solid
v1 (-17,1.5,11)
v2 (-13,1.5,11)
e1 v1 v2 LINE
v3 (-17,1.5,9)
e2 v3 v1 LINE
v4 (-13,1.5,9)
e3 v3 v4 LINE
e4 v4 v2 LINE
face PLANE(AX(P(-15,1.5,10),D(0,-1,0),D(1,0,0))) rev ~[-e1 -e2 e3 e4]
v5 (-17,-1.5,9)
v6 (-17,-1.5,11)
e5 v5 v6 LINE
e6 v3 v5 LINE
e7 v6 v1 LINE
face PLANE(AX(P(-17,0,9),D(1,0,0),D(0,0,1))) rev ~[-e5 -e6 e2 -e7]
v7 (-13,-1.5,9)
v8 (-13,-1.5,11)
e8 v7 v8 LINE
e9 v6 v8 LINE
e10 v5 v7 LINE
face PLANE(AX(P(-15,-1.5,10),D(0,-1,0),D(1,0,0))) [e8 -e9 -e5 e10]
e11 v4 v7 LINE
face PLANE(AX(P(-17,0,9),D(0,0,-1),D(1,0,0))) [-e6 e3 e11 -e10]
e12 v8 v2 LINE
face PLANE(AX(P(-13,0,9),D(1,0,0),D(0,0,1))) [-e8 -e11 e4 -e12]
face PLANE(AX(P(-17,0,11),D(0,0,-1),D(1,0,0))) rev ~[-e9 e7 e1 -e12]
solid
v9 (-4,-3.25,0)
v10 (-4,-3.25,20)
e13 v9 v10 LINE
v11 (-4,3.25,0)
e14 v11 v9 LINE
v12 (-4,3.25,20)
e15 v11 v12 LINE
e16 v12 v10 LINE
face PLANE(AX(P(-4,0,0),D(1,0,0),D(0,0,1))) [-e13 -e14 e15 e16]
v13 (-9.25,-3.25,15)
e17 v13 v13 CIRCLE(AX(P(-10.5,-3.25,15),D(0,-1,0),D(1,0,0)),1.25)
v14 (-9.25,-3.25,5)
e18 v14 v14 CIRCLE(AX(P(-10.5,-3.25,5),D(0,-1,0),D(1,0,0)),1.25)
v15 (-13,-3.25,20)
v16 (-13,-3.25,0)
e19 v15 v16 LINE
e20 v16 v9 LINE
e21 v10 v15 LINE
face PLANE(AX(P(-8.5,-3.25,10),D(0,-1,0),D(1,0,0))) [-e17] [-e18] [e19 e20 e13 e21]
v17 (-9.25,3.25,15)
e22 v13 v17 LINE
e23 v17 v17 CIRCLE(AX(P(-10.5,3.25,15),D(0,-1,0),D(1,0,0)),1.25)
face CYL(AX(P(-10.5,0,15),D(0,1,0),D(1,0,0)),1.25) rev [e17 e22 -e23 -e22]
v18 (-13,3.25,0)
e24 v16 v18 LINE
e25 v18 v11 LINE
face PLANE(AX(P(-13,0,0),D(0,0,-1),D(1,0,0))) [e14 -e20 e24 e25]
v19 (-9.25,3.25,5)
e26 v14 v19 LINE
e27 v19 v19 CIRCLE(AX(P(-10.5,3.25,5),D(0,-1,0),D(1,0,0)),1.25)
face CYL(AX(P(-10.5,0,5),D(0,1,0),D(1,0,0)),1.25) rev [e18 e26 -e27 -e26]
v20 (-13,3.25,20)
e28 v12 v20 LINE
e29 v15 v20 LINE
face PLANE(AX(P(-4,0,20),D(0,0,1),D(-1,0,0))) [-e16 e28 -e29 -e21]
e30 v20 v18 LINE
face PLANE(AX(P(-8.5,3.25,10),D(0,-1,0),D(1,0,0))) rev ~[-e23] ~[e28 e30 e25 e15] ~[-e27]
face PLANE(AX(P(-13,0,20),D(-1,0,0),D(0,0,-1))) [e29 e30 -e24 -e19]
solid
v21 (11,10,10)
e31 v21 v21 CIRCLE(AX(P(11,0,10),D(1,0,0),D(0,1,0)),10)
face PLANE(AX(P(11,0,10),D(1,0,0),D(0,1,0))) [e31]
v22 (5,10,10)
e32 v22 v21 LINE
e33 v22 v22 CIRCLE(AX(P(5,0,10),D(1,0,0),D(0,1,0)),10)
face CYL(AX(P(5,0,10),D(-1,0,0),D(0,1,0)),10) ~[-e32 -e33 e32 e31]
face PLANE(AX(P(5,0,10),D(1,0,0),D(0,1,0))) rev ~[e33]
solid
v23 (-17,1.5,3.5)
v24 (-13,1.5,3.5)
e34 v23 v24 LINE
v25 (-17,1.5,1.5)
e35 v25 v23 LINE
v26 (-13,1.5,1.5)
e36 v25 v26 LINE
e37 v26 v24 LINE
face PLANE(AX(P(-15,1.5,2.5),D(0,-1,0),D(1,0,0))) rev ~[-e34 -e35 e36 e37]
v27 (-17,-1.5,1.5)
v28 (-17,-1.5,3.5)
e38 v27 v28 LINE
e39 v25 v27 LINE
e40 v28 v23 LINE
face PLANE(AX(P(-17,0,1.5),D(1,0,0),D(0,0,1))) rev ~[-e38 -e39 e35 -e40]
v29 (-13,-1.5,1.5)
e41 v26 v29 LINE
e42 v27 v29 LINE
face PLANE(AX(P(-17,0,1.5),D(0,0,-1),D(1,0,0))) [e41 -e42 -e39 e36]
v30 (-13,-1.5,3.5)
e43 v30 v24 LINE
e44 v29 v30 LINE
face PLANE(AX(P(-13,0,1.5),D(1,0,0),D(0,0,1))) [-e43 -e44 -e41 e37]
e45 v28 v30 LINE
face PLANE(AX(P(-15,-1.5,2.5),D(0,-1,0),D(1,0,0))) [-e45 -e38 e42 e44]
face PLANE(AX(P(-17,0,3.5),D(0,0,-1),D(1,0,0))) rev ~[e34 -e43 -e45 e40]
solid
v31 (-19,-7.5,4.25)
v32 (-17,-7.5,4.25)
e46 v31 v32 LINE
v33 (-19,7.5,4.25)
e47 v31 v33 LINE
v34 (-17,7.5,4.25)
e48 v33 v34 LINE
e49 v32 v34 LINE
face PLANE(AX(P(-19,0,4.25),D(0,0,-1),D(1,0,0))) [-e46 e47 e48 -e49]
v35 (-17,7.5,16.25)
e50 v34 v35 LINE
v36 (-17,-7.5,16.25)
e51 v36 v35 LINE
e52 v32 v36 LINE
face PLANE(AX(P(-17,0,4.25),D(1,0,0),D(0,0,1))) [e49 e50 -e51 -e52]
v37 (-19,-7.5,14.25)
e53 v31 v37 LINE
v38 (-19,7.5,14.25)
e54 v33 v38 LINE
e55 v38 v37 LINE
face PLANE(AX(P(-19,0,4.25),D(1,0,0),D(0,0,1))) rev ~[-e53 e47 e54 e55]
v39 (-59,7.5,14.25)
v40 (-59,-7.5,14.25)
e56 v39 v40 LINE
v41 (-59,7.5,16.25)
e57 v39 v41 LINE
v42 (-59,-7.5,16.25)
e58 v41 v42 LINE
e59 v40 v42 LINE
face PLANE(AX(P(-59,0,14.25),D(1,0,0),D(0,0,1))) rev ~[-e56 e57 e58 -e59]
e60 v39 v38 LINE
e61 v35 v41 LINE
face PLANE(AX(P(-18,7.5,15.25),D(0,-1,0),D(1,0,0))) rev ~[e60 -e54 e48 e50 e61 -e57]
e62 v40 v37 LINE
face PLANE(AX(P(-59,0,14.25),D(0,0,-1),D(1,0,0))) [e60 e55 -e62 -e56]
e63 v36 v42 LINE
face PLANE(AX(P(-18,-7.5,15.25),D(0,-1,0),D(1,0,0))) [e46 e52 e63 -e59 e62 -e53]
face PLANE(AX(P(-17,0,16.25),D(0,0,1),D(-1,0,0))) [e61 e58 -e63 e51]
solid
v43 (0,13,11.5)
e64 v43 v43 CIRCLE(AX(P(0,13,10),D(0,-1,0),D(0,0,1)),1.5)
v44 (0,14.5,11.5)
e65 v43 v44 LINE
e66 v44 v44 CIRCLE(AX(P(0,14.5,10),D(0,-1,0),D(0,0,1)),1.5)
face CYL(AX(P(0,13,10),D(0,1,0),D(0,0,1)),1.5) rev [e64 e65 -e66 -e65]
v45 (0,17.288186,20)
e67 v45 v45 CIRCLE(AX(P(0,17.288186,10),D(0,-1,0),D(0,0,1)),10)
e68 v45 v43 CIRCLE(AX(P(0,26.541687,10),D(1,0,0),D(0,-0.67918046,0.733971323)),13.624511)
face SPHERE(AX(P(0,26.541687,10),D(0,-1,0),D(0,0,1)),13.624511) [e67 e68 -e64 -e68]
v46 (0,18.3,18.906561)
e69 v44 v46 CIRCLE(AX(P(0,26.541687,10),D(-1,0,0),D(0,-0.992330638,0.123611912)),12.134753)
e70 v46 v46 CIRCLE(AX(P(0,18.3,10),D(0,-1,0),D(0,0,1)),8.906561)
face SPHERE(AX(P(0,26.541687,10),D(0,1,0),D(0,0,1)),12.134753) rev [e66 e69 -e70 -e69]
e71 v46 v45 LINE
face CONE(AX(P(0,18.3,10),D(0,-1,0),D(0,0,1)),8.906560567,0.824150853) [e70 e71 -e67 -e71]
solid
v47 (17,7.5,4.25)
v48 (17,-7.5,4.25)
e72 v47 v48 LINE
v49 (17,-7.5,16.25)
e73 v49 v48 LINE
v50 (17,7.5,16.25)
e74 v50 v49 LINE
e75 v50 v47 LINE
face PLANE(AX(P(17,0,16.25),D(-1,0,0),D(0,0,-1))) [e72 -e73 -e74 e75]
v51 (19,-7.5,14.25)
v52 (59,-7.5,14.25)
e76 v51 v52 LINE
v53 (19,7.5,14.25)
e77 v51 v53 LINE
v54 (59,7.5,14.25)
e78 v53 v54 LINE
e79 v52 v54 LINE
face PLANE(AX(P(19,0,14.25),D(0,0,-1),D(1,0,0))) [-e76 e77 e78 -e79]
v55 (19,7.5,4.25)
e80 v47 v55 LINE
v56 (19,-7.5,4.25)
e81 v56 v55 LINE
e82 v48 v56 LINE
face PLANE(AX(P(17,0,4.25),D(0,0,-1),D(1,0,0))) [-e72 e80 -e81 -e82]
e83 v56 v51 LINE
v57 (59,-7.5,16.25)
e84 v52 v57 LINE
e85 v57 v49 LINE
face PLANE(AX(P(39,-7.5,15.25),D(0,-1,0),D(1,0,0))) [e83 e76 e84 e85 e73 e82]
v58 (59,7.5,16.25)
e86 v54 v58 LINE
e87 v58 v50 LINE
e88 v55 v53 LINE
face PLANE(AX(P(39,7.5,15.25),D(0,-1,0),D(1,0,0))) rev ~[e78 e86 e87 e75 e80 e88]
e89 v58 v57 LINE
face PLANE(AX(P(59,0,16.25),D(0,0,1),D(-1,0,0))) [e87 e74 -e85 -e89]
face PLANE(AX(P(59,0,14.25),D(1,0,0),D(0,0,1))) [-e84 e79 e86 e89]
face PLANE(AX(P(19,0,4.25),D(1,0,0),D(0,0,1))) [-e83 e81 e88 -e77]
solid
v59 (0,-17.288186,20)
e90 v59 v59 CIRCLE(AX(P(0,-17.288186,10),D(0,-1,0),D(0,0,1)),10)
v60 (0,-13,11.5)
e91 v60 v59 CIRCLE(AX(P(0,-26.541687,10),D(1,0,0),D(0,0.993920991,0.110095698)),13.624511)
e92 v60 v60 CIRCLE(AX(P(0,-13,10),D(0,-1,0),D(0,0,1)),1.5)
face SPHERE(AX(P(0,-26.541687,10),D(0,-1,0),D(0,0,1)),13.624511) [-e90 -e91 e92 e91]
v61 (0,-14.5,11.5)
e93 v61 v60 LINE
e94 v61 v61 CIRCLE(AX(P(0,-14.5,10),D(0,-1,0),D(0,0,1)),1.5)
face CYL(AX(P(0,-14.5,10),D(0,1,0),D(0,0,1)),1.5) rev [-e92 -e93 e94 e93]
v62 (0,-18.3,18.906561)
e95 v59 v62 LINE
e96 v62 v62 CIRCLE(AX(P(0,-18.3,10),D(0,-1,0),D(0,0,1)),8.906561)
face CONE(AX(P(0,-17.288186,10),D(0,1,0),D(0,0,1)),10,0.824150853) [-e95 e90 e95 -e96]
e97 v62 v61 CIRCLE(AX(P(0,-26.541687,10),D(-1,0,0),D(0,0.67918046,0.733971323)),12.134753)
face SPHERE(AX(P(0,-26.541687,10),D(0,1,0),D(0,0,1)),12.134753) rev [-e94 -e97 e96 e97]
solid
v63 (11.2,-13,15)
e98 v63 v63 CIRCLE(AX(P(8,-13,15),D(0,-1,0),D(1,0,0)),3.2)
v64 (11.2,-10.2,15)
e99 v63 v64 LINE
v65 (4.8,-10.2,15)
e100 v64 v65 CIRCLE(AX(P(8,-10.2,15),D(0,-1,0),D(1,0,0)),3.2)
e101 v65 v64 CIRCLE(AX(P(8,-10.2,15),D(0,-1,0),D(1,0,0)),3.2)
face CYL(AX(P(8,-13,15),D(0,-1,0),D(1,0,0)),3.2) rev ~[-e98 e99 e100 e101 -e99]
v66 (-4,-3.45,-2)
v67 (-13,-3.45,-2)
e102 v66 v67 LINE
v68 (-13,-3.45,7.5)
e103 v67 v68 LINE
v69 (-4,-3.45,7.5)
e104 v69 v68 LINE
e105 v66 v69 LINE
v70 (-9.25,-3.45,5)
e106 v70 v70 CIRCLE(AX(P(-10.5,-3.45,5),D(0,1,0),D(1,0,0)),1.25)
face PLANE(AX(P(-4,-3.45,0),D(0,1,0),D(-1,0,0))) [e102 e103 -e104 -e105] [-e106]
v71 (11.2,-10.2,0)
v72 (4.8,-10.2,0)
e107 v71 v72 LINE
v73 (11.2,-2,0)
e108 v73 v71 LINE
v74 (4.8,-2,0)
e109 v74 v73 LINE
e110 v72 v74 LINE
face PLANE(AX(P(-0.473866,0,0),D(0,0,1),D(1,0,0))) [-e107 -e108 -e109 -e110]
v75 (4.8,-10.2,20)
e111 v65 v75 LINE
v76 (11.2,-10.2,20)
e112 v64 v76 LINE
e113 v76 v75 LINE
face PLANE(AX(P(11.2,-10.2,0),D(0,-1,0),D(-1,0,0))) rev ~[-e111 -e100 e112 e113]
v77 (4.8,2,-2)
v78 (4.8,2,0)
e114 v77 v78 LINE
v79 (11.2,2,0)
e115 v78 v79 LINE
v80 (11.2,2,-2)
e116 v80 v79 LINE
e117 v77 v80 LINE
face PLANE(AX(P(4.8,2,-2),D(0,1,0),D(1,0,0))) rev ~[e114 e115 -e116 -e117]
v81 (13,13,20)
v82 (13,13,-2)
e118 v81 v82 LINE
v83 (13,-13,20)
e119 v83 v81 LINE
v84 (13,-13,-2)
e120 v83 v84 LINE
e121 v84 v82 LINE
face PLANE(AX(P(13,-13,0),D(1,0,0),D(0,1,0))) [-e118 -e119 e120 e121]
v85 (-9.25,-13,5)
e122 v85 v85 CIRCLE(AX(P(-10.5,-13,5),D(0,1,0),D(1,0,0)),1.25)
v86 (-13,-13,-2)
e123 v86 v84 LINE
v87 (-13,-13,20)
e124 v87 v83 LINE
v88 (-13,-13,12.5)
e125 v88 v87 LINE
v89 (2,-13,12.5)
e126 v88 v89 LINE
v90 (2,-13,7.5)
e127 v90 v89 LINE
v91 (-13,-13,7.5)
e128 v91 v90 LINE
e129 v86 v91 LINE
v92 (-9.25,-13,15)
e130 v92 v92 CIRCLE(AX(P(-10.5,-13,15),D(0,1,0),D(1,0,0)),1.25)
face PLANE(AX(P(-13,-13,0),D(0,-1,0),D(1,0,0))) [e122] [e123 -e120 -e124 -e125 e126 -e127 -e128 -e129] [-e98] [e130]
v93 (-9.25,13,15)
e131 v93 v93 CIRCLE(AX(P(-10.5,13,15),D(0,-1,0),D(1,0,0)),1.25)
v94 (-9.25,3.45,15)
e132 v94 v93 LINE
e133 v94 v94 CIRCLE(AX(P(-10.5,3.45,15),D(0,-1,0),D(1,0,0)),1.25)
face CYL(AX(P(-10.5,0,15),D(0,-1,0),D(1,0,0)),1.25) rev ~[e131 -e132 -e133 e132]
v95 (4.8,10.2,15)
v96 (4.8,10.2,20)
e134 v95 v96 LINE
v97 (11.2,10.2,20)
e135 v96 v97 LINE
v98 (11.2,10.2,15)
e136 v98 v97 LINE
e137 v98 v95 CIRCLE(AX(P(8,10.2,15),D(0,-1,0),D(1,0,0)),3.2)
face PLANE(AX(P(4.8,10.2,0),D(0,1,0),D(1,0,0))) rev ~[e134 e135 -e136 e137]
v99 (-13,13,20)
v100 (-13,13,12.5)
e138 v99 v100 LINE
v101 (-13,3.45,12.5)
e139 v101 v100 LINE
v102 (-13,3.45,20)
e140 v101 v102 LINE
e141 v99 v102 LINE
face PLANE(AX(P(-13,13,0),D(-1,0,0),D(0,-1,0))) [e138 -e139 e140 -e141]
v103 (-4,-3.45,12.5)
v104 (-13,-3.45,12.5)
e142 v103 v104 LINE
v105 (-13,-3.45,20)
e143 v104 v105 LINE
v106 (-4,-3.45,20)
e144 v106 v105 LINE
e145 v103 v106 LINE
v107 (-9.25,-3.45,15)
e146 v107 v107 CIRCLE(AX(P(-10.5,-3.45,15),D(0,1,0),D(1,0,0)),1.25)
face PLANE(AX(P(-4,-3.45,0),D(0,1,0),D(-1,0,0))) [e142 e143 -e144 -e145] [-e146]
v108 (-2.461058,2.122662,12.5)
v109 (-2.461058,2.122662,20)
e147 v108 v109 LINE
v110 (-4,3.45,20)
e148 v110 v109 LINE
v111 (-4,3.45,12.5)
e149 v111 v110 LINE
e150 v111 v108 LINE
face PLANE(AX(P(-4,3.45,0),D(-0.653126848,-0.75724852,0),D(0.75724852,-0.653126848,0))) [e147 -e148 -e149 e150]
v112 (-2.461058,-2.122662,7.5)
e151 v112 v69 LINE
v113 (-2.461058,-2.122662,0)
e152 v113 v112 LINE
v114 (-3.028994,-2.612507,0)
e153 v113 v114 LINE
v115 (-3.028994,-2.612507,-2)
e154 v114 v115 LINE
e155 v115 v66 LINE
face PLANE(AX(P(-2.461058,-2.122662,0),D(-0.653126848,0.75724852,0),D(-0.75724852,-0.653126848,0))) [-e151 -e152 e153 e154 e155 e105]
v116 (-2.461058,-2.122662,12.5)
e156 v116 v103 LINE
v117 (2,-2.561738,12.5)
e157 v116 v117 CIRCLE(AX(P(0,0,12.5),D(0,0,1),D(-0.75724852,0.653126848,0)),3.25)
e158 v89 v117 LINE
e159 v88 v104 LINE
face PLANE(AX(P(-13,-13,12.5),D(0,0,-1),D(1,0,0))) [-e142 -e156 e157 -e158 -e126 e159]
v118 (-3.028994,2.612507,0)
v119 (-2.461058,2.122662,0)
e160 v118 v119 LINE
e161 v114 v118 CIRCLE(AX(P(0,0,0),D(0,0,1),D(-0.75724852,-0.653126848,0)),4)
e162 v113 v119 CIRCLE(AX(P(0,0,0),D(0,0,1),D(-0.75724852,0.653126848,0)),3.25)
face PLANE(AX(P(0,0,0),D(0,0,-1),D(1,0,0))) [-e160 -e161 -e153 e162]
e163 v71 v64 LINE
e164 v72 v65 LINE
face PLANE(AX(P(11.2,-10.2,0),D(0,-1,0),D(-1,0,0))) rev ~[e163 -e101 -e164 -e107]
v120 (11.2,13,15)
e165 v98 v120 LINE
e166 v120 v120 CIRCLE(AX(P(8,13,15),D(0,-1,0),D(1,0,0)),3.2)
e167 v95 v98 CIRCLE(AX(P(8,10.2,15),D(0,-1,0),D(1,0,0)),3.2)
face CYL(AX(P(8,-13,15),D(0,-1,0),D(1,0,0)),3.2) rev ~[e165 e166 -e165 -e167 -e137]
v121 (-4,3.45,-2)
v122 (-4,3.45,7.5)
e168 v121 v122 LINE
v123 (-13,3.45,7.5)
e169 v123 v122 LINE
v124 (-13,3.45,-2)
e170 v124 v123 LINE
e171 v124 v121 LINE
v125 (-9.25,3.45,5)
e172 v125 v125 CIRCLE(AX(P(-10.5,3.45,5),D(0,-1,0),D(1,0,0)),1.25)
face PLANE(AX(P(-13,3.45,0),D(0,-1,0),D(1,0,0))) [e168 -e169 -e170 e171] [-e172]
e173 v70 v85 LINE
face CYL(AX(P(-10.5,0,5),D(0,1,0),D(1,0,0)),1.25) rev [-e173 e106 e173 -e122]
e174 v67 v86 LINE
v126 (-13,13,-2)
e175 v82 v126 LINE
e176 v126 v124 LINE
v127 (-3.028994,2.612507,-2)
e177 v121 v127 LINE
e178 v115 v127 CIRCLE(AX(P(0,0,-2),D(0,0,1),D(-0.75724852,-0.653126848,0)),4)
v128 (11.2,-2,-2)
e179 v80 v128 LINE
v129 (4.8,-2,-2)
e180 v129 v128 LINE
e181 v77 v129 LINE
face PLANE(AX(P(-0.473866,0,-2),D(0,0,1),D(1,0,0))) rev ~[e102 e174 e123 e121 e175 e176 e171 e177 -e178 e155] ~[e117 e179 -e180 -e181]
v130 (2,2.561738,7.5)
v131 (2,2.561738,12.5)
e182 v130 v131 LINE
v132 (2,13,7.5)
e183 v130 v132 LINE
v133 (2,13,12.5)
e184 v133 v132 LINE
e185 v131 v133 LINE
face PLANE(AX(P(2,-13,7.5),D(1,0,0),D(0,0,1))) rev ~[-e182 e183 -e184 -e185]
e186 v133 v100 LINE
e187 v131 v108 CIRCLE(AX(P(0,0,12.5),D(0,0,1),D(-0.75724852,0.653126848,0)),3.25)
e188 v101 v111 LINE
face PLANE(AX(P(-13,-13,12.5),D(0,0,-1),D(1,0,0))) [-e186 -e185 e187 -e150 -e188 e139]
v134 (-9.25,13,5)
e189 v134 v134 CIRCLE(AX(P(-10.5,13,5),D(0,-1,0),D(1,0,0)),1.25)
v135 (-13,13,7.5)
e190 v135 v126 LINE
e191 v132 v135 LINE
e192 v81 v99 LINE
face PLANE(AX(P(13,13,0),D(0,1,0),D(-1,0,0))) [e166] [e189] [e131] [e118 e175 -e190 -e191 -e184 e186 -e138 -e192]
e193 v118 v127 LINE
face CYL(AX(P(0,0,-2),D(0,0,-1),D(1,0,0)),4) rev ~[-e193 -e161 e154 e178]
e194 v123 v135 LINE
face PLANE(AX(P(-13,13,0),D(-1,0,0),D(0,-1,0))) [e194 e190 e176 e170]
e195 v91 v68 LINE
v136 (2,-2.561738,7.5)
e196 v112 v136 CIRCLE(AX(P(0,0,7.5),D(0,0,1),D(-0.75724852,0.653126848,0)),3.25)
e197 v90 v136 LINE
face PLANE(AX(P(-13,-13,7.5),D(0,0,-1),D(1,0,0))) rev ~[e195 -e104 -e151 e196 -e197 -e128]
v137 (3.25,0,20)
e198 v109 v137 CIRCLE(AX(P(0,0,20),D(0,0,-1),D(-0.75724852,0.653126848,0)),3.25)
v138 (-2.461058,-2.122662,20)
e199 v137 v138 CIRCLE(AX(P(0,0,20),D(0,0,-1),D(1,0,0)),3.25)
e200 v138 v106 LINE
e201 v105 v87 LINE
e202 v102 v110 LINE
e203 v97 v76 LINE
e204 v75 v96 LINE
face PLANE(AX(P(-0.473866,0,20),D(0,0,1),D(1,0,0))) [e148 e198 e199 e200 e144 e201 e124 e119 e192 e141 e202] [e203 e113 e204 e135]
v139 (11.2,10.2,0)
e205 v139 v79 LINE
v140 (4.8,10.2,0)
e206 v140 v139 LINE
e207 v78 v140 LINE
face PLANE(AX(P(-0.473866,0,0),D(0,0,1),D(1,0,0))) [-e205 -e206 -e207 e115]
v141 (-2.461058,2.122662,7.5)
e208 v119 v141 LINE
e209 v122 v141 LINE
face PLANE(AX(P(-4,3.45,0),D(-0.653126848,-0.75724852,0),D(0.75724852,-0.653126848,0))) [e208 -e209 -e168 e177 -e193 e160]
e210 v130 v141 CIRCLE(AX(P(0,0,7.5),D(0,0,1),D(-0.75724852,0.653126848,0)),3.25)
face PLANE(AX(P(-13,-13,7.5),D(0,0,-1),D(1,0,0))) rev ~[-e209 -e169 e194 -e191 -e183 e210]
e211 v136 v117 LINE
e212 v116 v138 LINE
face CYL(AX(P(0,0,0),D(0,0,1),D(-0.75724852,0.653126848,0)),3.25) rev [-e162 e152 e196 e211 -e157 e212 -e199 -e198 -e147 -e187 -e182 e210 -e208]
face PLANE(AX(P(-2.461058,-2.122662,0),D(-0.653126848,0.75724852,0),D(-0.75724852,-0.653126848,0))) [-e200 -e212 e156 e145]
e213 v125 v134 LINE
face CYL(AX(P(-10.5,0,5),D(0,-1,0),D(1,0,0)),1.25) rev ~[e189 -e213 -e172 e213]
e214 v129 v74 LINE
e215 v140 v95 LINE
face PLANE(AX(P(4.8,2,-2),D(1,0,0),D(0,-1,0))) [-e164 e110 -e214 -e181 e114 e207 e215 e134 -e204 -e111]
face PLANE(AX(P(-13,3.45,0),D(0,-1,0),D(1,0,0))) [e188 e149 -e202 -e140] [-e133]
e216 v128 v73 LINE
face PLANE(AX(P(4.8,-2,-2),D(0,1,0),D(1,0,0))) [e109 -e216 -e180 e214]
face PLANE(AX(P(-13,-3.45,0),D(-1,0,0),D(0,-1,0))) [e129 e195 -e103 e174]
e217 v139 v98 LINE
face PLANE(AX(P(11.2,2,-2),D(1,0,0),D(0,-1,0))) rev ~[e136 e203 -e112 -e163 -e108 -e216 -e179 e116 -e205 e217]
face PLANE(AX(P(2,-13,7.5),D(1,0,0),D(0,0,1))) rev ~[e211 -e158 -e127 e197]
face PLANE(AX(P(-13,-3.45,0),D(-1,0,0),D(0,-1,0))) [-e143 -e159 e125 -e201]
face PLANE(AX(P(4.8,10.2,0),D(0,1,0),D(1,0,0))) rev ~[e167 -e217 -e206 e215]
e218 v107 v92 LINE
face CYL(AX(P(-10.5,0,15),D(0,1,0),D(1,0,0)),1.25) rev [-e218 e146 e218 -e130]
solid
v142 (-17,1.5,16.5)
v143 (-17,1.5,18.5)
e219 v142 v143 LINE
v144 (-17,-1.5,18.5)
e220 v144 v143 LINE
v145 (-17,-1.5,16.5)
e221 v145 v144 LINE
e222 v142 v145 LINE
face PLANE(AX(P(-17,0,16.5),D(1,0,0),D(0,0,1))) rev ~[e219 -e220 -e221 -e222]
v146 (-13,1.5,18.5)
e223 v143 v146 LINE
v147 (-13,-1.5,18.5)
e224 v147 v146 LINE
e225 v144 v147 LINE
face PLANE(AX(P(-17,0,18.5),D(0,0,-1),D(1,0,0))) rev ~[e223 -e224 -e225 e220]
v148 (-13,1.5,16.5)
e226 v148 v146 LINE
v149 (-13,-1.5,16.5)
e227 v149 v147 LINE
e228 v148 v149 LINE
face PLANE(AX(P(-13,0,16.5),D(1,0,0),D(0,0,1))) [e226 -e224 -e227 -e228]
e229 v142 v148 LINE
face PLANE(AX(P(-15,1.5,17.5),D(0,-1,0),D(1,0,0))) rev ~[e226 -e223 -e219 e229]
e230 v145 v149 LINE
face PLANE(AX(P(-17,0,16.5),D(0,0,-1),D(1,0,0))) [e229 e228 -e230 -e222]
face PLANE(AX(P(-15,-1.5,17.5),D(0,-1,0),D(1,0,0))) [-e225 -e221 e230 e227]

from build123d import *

# Parameters (mm, degrees)
F1_R          = 1.25
F2_DEPTH      = 3.25
F1_W          = 4
F1_H          = 2
F3_DEPTH      = 1.5
F5_START      = 5
F4_R          = 10
F5_DEPTH      = 6
F7_DEPTH      = 20
F8_DEPTH      = 2
F9_DEPTH      = 13.001
F9_DEPTH_BACK = 13.001
F10_W         = 15
F10_H         = 5
F10_R         = 3.2
F11_DEPTH     = 26.001
F12_R         = 4
F13_DEPTH     = 2
F16_W         = 2
F16_H         = 2
F16_W_2       = 40
F16_H_2       = 10
F17_DEPTH     = 7.5
F18_W         = 6.4
F18_H         = 4
F19_DEPTH     = 2


with BuildPart() as f2:
    # F1 (on Front) → F2 (new body, symmetric)
    with BuildSketch(Plane.XZ):
        Polygon((-13, 0), (-4, 0), (-4, 20), (-13, 20), (-13, 18.5), (-13, 16.5), (-13, 11), (-13, 9), (-13, 3.5), (-13, 1.5), align=None)
        with Locations((-10.5, 5)):
            Circle(F1_R, mode=Mode.SUBTRACT)
        with Locations((-10.5, 15)):
            Circle(F1_R, mode=Mode.SUBTRACT)
    extrude(amount=F2_DEPTH, both=True)


with BuildPart() as f3:
    # F1 (on Front) → F3 (new body, symmetric)
    with BuildSketch(Plane.XZ):
        with Locations((-15, 17.5)):
            Rectangle(F1_W, F1_H)
    extrude(amount=F3_DEPTH, both=True)


with BuildPart() as f3b:
    # F1 (on Front) → F3, piece 2 (new body, symmetric)
    with BuildSketch(Plane.XZ):
        with Locations((-15, 10)):
            Rectangle(F1_W, F1_H)
    extrude(amount=F3_DEPTH, both=True)


with BuildPart() as f3c:
    # F1 (on Front) → F3, piece 3 (new body, symmetric)
    with BuildSketch(Plane.XZ):
        with Locations((-15, 2.5)):
            Rectangle(F1_W, F1_H)
    extrude(amount=F3_DEPTH, both=True)


with BuildPart() as f5:
    # F4 (on Right) → F5 (new body)
    with BuildSketch(Plane.YZ.offset(F5_START)):
        with Locations((0, 10)):
            Circle(F4_R)
    extrude(amount=F5_DEPTH)


with BuildPart() as f7:
    # F6 (on Top) → F7 (new body, through all)
    with BuildSketch(Plane.XY):
        with BuildLine():
            Line((-13, 13), (-13, 3.45))
            Line((-13, 3.45), (-4, 3.45))
            Line((-4, 3.45), (-2.4610576884, 2.1226622563))
            ThreePointArc((-2.4610576884, 2.1226622563), (1.132268191, 3.0463861777), (3.25, 0))
            ThreePointArc((3.25, 0), (1.132268191, -3.0463861777), (-2.4610576884, -2.1226622563))
            Line((-2.4610576884, -2.1226622563), (-4, -3.45))
            Line((-4, -3.45), (-13, -3.45))
            Line((-13, -3.45), (-13, -13))
            Line((-13, -13), (13, -13))
            Line((13, -13), (13, 0))
            Line((13, 0), (13, 13))
            Line((13, 13), (-13, 13))
        make_face()
        Polygon((11.2, 10.2), (11.2, 0), (11.2, -10.2), (4.8, -10.2), (4.8, 0), (4.8, 10.2), align=None, mode=Mode.SUBTRACT)
    extrude(amount=F7_DEPTH)

    # F6 (on Top) → F8 (join)
    with BuildSketch(Plane.XY):
        with BuildLine():
            Line((-13, 13), (-13, 3.45))
            Line((-13, 3.45), (-4, 3.45))
            Line((-4, 3.45), (-2.4610576884, 2.1226622563))
            ThreePointArc((-2.4610576884, 2.1226622563), (1.132268191, 3.0463861777), (3.25, 0))
            ThreePointArc((3.25, 0), (1.132268191, -3.0463861777), (-2.4610576884, -2.1226622563))
            Line((-2.4610576884, -2.1226622563), (-4, -3.45))
            Line((-4, -3.45), (-13, -3.45))
            Line((-13, -3.45), (-13, -13))
            Line((-13, -13), (13, -13))
            Line((13, -13), (13, 0))
            Line((13, 0), (13, 13))
            Line((13, 13), (-13, 13))
        make_face()
        Polygon((11.2, 10.2), (11.2, 0), (11.2, -10.2), (4.8, -10.2), (4.8, 0), (4.8, 10.2), align=None, mode=Mode.SUBTRACT)
        Polygon((11.2, -10.2), (11.2, 0), (11.2, 10.2), (4.8, 10.2), (4.8, 0), (4.8, -10.2), align=None)
    extrude(amount=-F8_DEPTH)

    # F1 (on Front) → F9 (cut, two sides)
    with BuildSketch(Plane.XZ) as f9_sk:
        with Locations((-10.5, 15)):
            Circle(F1_R)
        with Locations((-10.5, 5)):
            Circle(F1_R)
    extrude(amount=-F9_DEPTH, mode=Mode.SUBTRACT)
    extrude(f9_sk.sketch, amount=F9_DEPTH_BACK, mode=Mode.SUBTRACT)

    # F10 (on face) → F11 (cut, through all)
    with BuildSketch(Plane.XZ.offset(13)):
        with Locations((-5.5, 10)):
            Rectangle(F10_W, F10_H)
        with Locations((8, 15)):
            Circle(F10_R)
    extrude(amount=-F11_DEPTH, mode=Mode.SUBTRACT)

    # F12 (on face) → F13 (cut)
    with BuildSketch(Plane(origin=(0, 0, -2), x_dir=(1, 0, 0), z_dir=(0, 0, -1))):
        Circle(F12_R)
    extrude(amount=-F13_DEPTH, mode=Mode.SUBTRACT)

    # F18 (on face) → F19 (cut, through all)
    with BuildSketch(Plane(origin=(0, 0, -2), x_dir=(1, 0, 0), z_dir=(0, 0, -1))):
        with Locations((8, 0)):
            Rectangle(F18_W, F18_H)
    extrude(amount=-F19_DEPTH, mode=Mode.SUBTRACT)


with BuildPart() as f15:
    # F14 (on Right) → F15 (revolve)
    with BuildSketch(Plane.YZ):
        with BuildLine():
            Line((-14.5, 11.5000000001), (-13, 11.5000000001))
            ThreePointArc((-13, 11.5000000001), (-14.3774914786, 16.136744585), (-17.2881856771, 20))
            Line((-17.2881856771, 20), (-18.3, 18.9065605671))
            ThreePointArc((-18.3, 18.9065605671), (-15.7450162133, 15.539325384), (-14.5, 11.5000000001))
        make_face()
    revolve(axis=Axis((0, -13.2708434956, 10.0000000001), (0, -1, 0)))


with BuildPart() as f15b:
    # F14 (on Right) → F15, piece 2 (revolve)
    with BuildSketch(Plane.YZ):
        with BuildLine():
            ThreePointArc((17.2881856771, 20), (14.3774914786, 16.136744585), (13, 11.5000000001))
            Line((13, 11.5000000001), (14.5, 11.5000000001))
            ThreePointArc((14.5, 11.5000000001), (15.7450162133, 15.539325384), (18.3, 18.9065605671))
            Line((18.3, 18.9065605671), (17.2881856771, 20))
        make_face()
    revolve(axis=Axis((0, -13.2708434956, 10.0000000001), (0, -1, 0)))


with BuildPart() as f17:
    # F16 (on Front) → F17 (new body, symmetric)
    with BuildSketch(Plane.XZ):
        with Locations((-18, 15.2500000002)):
            Rectangle(F16_W, F16_H)
        with Locations((-39, 15.2500000002)):
            Rectangle(F16_W_2, F16_H)
        with Locations((-18, 9.2500000002)):
            Rectangle(F16_W, F16_H_2)
    extrude(amount=F17_DEPTH, both=True)


with BuildPart() as f17b:
    # F16 (on Front) → F17, piece 2 (new body, symmetric)
    with BuildSketch(Plane.XZ):
        with Locations((39, 15.2500000002)):
            Rectangle(F16_W_2, F16_H)
        with Locations((18, 15.2500000002)):
            Rectangle(F16_W, F16_H)
        with Locations((18, 9.2500000002)):
            Rectangle(F16_W, F16_H_2)
    extrude(amount=F17_DEPTH, both=True)


solid = Compound([f2.part, f3.part, f3b.part, f3c.part, f5.part, f7.part, f15.part, f15b.part, f17.part, f17b.part])
